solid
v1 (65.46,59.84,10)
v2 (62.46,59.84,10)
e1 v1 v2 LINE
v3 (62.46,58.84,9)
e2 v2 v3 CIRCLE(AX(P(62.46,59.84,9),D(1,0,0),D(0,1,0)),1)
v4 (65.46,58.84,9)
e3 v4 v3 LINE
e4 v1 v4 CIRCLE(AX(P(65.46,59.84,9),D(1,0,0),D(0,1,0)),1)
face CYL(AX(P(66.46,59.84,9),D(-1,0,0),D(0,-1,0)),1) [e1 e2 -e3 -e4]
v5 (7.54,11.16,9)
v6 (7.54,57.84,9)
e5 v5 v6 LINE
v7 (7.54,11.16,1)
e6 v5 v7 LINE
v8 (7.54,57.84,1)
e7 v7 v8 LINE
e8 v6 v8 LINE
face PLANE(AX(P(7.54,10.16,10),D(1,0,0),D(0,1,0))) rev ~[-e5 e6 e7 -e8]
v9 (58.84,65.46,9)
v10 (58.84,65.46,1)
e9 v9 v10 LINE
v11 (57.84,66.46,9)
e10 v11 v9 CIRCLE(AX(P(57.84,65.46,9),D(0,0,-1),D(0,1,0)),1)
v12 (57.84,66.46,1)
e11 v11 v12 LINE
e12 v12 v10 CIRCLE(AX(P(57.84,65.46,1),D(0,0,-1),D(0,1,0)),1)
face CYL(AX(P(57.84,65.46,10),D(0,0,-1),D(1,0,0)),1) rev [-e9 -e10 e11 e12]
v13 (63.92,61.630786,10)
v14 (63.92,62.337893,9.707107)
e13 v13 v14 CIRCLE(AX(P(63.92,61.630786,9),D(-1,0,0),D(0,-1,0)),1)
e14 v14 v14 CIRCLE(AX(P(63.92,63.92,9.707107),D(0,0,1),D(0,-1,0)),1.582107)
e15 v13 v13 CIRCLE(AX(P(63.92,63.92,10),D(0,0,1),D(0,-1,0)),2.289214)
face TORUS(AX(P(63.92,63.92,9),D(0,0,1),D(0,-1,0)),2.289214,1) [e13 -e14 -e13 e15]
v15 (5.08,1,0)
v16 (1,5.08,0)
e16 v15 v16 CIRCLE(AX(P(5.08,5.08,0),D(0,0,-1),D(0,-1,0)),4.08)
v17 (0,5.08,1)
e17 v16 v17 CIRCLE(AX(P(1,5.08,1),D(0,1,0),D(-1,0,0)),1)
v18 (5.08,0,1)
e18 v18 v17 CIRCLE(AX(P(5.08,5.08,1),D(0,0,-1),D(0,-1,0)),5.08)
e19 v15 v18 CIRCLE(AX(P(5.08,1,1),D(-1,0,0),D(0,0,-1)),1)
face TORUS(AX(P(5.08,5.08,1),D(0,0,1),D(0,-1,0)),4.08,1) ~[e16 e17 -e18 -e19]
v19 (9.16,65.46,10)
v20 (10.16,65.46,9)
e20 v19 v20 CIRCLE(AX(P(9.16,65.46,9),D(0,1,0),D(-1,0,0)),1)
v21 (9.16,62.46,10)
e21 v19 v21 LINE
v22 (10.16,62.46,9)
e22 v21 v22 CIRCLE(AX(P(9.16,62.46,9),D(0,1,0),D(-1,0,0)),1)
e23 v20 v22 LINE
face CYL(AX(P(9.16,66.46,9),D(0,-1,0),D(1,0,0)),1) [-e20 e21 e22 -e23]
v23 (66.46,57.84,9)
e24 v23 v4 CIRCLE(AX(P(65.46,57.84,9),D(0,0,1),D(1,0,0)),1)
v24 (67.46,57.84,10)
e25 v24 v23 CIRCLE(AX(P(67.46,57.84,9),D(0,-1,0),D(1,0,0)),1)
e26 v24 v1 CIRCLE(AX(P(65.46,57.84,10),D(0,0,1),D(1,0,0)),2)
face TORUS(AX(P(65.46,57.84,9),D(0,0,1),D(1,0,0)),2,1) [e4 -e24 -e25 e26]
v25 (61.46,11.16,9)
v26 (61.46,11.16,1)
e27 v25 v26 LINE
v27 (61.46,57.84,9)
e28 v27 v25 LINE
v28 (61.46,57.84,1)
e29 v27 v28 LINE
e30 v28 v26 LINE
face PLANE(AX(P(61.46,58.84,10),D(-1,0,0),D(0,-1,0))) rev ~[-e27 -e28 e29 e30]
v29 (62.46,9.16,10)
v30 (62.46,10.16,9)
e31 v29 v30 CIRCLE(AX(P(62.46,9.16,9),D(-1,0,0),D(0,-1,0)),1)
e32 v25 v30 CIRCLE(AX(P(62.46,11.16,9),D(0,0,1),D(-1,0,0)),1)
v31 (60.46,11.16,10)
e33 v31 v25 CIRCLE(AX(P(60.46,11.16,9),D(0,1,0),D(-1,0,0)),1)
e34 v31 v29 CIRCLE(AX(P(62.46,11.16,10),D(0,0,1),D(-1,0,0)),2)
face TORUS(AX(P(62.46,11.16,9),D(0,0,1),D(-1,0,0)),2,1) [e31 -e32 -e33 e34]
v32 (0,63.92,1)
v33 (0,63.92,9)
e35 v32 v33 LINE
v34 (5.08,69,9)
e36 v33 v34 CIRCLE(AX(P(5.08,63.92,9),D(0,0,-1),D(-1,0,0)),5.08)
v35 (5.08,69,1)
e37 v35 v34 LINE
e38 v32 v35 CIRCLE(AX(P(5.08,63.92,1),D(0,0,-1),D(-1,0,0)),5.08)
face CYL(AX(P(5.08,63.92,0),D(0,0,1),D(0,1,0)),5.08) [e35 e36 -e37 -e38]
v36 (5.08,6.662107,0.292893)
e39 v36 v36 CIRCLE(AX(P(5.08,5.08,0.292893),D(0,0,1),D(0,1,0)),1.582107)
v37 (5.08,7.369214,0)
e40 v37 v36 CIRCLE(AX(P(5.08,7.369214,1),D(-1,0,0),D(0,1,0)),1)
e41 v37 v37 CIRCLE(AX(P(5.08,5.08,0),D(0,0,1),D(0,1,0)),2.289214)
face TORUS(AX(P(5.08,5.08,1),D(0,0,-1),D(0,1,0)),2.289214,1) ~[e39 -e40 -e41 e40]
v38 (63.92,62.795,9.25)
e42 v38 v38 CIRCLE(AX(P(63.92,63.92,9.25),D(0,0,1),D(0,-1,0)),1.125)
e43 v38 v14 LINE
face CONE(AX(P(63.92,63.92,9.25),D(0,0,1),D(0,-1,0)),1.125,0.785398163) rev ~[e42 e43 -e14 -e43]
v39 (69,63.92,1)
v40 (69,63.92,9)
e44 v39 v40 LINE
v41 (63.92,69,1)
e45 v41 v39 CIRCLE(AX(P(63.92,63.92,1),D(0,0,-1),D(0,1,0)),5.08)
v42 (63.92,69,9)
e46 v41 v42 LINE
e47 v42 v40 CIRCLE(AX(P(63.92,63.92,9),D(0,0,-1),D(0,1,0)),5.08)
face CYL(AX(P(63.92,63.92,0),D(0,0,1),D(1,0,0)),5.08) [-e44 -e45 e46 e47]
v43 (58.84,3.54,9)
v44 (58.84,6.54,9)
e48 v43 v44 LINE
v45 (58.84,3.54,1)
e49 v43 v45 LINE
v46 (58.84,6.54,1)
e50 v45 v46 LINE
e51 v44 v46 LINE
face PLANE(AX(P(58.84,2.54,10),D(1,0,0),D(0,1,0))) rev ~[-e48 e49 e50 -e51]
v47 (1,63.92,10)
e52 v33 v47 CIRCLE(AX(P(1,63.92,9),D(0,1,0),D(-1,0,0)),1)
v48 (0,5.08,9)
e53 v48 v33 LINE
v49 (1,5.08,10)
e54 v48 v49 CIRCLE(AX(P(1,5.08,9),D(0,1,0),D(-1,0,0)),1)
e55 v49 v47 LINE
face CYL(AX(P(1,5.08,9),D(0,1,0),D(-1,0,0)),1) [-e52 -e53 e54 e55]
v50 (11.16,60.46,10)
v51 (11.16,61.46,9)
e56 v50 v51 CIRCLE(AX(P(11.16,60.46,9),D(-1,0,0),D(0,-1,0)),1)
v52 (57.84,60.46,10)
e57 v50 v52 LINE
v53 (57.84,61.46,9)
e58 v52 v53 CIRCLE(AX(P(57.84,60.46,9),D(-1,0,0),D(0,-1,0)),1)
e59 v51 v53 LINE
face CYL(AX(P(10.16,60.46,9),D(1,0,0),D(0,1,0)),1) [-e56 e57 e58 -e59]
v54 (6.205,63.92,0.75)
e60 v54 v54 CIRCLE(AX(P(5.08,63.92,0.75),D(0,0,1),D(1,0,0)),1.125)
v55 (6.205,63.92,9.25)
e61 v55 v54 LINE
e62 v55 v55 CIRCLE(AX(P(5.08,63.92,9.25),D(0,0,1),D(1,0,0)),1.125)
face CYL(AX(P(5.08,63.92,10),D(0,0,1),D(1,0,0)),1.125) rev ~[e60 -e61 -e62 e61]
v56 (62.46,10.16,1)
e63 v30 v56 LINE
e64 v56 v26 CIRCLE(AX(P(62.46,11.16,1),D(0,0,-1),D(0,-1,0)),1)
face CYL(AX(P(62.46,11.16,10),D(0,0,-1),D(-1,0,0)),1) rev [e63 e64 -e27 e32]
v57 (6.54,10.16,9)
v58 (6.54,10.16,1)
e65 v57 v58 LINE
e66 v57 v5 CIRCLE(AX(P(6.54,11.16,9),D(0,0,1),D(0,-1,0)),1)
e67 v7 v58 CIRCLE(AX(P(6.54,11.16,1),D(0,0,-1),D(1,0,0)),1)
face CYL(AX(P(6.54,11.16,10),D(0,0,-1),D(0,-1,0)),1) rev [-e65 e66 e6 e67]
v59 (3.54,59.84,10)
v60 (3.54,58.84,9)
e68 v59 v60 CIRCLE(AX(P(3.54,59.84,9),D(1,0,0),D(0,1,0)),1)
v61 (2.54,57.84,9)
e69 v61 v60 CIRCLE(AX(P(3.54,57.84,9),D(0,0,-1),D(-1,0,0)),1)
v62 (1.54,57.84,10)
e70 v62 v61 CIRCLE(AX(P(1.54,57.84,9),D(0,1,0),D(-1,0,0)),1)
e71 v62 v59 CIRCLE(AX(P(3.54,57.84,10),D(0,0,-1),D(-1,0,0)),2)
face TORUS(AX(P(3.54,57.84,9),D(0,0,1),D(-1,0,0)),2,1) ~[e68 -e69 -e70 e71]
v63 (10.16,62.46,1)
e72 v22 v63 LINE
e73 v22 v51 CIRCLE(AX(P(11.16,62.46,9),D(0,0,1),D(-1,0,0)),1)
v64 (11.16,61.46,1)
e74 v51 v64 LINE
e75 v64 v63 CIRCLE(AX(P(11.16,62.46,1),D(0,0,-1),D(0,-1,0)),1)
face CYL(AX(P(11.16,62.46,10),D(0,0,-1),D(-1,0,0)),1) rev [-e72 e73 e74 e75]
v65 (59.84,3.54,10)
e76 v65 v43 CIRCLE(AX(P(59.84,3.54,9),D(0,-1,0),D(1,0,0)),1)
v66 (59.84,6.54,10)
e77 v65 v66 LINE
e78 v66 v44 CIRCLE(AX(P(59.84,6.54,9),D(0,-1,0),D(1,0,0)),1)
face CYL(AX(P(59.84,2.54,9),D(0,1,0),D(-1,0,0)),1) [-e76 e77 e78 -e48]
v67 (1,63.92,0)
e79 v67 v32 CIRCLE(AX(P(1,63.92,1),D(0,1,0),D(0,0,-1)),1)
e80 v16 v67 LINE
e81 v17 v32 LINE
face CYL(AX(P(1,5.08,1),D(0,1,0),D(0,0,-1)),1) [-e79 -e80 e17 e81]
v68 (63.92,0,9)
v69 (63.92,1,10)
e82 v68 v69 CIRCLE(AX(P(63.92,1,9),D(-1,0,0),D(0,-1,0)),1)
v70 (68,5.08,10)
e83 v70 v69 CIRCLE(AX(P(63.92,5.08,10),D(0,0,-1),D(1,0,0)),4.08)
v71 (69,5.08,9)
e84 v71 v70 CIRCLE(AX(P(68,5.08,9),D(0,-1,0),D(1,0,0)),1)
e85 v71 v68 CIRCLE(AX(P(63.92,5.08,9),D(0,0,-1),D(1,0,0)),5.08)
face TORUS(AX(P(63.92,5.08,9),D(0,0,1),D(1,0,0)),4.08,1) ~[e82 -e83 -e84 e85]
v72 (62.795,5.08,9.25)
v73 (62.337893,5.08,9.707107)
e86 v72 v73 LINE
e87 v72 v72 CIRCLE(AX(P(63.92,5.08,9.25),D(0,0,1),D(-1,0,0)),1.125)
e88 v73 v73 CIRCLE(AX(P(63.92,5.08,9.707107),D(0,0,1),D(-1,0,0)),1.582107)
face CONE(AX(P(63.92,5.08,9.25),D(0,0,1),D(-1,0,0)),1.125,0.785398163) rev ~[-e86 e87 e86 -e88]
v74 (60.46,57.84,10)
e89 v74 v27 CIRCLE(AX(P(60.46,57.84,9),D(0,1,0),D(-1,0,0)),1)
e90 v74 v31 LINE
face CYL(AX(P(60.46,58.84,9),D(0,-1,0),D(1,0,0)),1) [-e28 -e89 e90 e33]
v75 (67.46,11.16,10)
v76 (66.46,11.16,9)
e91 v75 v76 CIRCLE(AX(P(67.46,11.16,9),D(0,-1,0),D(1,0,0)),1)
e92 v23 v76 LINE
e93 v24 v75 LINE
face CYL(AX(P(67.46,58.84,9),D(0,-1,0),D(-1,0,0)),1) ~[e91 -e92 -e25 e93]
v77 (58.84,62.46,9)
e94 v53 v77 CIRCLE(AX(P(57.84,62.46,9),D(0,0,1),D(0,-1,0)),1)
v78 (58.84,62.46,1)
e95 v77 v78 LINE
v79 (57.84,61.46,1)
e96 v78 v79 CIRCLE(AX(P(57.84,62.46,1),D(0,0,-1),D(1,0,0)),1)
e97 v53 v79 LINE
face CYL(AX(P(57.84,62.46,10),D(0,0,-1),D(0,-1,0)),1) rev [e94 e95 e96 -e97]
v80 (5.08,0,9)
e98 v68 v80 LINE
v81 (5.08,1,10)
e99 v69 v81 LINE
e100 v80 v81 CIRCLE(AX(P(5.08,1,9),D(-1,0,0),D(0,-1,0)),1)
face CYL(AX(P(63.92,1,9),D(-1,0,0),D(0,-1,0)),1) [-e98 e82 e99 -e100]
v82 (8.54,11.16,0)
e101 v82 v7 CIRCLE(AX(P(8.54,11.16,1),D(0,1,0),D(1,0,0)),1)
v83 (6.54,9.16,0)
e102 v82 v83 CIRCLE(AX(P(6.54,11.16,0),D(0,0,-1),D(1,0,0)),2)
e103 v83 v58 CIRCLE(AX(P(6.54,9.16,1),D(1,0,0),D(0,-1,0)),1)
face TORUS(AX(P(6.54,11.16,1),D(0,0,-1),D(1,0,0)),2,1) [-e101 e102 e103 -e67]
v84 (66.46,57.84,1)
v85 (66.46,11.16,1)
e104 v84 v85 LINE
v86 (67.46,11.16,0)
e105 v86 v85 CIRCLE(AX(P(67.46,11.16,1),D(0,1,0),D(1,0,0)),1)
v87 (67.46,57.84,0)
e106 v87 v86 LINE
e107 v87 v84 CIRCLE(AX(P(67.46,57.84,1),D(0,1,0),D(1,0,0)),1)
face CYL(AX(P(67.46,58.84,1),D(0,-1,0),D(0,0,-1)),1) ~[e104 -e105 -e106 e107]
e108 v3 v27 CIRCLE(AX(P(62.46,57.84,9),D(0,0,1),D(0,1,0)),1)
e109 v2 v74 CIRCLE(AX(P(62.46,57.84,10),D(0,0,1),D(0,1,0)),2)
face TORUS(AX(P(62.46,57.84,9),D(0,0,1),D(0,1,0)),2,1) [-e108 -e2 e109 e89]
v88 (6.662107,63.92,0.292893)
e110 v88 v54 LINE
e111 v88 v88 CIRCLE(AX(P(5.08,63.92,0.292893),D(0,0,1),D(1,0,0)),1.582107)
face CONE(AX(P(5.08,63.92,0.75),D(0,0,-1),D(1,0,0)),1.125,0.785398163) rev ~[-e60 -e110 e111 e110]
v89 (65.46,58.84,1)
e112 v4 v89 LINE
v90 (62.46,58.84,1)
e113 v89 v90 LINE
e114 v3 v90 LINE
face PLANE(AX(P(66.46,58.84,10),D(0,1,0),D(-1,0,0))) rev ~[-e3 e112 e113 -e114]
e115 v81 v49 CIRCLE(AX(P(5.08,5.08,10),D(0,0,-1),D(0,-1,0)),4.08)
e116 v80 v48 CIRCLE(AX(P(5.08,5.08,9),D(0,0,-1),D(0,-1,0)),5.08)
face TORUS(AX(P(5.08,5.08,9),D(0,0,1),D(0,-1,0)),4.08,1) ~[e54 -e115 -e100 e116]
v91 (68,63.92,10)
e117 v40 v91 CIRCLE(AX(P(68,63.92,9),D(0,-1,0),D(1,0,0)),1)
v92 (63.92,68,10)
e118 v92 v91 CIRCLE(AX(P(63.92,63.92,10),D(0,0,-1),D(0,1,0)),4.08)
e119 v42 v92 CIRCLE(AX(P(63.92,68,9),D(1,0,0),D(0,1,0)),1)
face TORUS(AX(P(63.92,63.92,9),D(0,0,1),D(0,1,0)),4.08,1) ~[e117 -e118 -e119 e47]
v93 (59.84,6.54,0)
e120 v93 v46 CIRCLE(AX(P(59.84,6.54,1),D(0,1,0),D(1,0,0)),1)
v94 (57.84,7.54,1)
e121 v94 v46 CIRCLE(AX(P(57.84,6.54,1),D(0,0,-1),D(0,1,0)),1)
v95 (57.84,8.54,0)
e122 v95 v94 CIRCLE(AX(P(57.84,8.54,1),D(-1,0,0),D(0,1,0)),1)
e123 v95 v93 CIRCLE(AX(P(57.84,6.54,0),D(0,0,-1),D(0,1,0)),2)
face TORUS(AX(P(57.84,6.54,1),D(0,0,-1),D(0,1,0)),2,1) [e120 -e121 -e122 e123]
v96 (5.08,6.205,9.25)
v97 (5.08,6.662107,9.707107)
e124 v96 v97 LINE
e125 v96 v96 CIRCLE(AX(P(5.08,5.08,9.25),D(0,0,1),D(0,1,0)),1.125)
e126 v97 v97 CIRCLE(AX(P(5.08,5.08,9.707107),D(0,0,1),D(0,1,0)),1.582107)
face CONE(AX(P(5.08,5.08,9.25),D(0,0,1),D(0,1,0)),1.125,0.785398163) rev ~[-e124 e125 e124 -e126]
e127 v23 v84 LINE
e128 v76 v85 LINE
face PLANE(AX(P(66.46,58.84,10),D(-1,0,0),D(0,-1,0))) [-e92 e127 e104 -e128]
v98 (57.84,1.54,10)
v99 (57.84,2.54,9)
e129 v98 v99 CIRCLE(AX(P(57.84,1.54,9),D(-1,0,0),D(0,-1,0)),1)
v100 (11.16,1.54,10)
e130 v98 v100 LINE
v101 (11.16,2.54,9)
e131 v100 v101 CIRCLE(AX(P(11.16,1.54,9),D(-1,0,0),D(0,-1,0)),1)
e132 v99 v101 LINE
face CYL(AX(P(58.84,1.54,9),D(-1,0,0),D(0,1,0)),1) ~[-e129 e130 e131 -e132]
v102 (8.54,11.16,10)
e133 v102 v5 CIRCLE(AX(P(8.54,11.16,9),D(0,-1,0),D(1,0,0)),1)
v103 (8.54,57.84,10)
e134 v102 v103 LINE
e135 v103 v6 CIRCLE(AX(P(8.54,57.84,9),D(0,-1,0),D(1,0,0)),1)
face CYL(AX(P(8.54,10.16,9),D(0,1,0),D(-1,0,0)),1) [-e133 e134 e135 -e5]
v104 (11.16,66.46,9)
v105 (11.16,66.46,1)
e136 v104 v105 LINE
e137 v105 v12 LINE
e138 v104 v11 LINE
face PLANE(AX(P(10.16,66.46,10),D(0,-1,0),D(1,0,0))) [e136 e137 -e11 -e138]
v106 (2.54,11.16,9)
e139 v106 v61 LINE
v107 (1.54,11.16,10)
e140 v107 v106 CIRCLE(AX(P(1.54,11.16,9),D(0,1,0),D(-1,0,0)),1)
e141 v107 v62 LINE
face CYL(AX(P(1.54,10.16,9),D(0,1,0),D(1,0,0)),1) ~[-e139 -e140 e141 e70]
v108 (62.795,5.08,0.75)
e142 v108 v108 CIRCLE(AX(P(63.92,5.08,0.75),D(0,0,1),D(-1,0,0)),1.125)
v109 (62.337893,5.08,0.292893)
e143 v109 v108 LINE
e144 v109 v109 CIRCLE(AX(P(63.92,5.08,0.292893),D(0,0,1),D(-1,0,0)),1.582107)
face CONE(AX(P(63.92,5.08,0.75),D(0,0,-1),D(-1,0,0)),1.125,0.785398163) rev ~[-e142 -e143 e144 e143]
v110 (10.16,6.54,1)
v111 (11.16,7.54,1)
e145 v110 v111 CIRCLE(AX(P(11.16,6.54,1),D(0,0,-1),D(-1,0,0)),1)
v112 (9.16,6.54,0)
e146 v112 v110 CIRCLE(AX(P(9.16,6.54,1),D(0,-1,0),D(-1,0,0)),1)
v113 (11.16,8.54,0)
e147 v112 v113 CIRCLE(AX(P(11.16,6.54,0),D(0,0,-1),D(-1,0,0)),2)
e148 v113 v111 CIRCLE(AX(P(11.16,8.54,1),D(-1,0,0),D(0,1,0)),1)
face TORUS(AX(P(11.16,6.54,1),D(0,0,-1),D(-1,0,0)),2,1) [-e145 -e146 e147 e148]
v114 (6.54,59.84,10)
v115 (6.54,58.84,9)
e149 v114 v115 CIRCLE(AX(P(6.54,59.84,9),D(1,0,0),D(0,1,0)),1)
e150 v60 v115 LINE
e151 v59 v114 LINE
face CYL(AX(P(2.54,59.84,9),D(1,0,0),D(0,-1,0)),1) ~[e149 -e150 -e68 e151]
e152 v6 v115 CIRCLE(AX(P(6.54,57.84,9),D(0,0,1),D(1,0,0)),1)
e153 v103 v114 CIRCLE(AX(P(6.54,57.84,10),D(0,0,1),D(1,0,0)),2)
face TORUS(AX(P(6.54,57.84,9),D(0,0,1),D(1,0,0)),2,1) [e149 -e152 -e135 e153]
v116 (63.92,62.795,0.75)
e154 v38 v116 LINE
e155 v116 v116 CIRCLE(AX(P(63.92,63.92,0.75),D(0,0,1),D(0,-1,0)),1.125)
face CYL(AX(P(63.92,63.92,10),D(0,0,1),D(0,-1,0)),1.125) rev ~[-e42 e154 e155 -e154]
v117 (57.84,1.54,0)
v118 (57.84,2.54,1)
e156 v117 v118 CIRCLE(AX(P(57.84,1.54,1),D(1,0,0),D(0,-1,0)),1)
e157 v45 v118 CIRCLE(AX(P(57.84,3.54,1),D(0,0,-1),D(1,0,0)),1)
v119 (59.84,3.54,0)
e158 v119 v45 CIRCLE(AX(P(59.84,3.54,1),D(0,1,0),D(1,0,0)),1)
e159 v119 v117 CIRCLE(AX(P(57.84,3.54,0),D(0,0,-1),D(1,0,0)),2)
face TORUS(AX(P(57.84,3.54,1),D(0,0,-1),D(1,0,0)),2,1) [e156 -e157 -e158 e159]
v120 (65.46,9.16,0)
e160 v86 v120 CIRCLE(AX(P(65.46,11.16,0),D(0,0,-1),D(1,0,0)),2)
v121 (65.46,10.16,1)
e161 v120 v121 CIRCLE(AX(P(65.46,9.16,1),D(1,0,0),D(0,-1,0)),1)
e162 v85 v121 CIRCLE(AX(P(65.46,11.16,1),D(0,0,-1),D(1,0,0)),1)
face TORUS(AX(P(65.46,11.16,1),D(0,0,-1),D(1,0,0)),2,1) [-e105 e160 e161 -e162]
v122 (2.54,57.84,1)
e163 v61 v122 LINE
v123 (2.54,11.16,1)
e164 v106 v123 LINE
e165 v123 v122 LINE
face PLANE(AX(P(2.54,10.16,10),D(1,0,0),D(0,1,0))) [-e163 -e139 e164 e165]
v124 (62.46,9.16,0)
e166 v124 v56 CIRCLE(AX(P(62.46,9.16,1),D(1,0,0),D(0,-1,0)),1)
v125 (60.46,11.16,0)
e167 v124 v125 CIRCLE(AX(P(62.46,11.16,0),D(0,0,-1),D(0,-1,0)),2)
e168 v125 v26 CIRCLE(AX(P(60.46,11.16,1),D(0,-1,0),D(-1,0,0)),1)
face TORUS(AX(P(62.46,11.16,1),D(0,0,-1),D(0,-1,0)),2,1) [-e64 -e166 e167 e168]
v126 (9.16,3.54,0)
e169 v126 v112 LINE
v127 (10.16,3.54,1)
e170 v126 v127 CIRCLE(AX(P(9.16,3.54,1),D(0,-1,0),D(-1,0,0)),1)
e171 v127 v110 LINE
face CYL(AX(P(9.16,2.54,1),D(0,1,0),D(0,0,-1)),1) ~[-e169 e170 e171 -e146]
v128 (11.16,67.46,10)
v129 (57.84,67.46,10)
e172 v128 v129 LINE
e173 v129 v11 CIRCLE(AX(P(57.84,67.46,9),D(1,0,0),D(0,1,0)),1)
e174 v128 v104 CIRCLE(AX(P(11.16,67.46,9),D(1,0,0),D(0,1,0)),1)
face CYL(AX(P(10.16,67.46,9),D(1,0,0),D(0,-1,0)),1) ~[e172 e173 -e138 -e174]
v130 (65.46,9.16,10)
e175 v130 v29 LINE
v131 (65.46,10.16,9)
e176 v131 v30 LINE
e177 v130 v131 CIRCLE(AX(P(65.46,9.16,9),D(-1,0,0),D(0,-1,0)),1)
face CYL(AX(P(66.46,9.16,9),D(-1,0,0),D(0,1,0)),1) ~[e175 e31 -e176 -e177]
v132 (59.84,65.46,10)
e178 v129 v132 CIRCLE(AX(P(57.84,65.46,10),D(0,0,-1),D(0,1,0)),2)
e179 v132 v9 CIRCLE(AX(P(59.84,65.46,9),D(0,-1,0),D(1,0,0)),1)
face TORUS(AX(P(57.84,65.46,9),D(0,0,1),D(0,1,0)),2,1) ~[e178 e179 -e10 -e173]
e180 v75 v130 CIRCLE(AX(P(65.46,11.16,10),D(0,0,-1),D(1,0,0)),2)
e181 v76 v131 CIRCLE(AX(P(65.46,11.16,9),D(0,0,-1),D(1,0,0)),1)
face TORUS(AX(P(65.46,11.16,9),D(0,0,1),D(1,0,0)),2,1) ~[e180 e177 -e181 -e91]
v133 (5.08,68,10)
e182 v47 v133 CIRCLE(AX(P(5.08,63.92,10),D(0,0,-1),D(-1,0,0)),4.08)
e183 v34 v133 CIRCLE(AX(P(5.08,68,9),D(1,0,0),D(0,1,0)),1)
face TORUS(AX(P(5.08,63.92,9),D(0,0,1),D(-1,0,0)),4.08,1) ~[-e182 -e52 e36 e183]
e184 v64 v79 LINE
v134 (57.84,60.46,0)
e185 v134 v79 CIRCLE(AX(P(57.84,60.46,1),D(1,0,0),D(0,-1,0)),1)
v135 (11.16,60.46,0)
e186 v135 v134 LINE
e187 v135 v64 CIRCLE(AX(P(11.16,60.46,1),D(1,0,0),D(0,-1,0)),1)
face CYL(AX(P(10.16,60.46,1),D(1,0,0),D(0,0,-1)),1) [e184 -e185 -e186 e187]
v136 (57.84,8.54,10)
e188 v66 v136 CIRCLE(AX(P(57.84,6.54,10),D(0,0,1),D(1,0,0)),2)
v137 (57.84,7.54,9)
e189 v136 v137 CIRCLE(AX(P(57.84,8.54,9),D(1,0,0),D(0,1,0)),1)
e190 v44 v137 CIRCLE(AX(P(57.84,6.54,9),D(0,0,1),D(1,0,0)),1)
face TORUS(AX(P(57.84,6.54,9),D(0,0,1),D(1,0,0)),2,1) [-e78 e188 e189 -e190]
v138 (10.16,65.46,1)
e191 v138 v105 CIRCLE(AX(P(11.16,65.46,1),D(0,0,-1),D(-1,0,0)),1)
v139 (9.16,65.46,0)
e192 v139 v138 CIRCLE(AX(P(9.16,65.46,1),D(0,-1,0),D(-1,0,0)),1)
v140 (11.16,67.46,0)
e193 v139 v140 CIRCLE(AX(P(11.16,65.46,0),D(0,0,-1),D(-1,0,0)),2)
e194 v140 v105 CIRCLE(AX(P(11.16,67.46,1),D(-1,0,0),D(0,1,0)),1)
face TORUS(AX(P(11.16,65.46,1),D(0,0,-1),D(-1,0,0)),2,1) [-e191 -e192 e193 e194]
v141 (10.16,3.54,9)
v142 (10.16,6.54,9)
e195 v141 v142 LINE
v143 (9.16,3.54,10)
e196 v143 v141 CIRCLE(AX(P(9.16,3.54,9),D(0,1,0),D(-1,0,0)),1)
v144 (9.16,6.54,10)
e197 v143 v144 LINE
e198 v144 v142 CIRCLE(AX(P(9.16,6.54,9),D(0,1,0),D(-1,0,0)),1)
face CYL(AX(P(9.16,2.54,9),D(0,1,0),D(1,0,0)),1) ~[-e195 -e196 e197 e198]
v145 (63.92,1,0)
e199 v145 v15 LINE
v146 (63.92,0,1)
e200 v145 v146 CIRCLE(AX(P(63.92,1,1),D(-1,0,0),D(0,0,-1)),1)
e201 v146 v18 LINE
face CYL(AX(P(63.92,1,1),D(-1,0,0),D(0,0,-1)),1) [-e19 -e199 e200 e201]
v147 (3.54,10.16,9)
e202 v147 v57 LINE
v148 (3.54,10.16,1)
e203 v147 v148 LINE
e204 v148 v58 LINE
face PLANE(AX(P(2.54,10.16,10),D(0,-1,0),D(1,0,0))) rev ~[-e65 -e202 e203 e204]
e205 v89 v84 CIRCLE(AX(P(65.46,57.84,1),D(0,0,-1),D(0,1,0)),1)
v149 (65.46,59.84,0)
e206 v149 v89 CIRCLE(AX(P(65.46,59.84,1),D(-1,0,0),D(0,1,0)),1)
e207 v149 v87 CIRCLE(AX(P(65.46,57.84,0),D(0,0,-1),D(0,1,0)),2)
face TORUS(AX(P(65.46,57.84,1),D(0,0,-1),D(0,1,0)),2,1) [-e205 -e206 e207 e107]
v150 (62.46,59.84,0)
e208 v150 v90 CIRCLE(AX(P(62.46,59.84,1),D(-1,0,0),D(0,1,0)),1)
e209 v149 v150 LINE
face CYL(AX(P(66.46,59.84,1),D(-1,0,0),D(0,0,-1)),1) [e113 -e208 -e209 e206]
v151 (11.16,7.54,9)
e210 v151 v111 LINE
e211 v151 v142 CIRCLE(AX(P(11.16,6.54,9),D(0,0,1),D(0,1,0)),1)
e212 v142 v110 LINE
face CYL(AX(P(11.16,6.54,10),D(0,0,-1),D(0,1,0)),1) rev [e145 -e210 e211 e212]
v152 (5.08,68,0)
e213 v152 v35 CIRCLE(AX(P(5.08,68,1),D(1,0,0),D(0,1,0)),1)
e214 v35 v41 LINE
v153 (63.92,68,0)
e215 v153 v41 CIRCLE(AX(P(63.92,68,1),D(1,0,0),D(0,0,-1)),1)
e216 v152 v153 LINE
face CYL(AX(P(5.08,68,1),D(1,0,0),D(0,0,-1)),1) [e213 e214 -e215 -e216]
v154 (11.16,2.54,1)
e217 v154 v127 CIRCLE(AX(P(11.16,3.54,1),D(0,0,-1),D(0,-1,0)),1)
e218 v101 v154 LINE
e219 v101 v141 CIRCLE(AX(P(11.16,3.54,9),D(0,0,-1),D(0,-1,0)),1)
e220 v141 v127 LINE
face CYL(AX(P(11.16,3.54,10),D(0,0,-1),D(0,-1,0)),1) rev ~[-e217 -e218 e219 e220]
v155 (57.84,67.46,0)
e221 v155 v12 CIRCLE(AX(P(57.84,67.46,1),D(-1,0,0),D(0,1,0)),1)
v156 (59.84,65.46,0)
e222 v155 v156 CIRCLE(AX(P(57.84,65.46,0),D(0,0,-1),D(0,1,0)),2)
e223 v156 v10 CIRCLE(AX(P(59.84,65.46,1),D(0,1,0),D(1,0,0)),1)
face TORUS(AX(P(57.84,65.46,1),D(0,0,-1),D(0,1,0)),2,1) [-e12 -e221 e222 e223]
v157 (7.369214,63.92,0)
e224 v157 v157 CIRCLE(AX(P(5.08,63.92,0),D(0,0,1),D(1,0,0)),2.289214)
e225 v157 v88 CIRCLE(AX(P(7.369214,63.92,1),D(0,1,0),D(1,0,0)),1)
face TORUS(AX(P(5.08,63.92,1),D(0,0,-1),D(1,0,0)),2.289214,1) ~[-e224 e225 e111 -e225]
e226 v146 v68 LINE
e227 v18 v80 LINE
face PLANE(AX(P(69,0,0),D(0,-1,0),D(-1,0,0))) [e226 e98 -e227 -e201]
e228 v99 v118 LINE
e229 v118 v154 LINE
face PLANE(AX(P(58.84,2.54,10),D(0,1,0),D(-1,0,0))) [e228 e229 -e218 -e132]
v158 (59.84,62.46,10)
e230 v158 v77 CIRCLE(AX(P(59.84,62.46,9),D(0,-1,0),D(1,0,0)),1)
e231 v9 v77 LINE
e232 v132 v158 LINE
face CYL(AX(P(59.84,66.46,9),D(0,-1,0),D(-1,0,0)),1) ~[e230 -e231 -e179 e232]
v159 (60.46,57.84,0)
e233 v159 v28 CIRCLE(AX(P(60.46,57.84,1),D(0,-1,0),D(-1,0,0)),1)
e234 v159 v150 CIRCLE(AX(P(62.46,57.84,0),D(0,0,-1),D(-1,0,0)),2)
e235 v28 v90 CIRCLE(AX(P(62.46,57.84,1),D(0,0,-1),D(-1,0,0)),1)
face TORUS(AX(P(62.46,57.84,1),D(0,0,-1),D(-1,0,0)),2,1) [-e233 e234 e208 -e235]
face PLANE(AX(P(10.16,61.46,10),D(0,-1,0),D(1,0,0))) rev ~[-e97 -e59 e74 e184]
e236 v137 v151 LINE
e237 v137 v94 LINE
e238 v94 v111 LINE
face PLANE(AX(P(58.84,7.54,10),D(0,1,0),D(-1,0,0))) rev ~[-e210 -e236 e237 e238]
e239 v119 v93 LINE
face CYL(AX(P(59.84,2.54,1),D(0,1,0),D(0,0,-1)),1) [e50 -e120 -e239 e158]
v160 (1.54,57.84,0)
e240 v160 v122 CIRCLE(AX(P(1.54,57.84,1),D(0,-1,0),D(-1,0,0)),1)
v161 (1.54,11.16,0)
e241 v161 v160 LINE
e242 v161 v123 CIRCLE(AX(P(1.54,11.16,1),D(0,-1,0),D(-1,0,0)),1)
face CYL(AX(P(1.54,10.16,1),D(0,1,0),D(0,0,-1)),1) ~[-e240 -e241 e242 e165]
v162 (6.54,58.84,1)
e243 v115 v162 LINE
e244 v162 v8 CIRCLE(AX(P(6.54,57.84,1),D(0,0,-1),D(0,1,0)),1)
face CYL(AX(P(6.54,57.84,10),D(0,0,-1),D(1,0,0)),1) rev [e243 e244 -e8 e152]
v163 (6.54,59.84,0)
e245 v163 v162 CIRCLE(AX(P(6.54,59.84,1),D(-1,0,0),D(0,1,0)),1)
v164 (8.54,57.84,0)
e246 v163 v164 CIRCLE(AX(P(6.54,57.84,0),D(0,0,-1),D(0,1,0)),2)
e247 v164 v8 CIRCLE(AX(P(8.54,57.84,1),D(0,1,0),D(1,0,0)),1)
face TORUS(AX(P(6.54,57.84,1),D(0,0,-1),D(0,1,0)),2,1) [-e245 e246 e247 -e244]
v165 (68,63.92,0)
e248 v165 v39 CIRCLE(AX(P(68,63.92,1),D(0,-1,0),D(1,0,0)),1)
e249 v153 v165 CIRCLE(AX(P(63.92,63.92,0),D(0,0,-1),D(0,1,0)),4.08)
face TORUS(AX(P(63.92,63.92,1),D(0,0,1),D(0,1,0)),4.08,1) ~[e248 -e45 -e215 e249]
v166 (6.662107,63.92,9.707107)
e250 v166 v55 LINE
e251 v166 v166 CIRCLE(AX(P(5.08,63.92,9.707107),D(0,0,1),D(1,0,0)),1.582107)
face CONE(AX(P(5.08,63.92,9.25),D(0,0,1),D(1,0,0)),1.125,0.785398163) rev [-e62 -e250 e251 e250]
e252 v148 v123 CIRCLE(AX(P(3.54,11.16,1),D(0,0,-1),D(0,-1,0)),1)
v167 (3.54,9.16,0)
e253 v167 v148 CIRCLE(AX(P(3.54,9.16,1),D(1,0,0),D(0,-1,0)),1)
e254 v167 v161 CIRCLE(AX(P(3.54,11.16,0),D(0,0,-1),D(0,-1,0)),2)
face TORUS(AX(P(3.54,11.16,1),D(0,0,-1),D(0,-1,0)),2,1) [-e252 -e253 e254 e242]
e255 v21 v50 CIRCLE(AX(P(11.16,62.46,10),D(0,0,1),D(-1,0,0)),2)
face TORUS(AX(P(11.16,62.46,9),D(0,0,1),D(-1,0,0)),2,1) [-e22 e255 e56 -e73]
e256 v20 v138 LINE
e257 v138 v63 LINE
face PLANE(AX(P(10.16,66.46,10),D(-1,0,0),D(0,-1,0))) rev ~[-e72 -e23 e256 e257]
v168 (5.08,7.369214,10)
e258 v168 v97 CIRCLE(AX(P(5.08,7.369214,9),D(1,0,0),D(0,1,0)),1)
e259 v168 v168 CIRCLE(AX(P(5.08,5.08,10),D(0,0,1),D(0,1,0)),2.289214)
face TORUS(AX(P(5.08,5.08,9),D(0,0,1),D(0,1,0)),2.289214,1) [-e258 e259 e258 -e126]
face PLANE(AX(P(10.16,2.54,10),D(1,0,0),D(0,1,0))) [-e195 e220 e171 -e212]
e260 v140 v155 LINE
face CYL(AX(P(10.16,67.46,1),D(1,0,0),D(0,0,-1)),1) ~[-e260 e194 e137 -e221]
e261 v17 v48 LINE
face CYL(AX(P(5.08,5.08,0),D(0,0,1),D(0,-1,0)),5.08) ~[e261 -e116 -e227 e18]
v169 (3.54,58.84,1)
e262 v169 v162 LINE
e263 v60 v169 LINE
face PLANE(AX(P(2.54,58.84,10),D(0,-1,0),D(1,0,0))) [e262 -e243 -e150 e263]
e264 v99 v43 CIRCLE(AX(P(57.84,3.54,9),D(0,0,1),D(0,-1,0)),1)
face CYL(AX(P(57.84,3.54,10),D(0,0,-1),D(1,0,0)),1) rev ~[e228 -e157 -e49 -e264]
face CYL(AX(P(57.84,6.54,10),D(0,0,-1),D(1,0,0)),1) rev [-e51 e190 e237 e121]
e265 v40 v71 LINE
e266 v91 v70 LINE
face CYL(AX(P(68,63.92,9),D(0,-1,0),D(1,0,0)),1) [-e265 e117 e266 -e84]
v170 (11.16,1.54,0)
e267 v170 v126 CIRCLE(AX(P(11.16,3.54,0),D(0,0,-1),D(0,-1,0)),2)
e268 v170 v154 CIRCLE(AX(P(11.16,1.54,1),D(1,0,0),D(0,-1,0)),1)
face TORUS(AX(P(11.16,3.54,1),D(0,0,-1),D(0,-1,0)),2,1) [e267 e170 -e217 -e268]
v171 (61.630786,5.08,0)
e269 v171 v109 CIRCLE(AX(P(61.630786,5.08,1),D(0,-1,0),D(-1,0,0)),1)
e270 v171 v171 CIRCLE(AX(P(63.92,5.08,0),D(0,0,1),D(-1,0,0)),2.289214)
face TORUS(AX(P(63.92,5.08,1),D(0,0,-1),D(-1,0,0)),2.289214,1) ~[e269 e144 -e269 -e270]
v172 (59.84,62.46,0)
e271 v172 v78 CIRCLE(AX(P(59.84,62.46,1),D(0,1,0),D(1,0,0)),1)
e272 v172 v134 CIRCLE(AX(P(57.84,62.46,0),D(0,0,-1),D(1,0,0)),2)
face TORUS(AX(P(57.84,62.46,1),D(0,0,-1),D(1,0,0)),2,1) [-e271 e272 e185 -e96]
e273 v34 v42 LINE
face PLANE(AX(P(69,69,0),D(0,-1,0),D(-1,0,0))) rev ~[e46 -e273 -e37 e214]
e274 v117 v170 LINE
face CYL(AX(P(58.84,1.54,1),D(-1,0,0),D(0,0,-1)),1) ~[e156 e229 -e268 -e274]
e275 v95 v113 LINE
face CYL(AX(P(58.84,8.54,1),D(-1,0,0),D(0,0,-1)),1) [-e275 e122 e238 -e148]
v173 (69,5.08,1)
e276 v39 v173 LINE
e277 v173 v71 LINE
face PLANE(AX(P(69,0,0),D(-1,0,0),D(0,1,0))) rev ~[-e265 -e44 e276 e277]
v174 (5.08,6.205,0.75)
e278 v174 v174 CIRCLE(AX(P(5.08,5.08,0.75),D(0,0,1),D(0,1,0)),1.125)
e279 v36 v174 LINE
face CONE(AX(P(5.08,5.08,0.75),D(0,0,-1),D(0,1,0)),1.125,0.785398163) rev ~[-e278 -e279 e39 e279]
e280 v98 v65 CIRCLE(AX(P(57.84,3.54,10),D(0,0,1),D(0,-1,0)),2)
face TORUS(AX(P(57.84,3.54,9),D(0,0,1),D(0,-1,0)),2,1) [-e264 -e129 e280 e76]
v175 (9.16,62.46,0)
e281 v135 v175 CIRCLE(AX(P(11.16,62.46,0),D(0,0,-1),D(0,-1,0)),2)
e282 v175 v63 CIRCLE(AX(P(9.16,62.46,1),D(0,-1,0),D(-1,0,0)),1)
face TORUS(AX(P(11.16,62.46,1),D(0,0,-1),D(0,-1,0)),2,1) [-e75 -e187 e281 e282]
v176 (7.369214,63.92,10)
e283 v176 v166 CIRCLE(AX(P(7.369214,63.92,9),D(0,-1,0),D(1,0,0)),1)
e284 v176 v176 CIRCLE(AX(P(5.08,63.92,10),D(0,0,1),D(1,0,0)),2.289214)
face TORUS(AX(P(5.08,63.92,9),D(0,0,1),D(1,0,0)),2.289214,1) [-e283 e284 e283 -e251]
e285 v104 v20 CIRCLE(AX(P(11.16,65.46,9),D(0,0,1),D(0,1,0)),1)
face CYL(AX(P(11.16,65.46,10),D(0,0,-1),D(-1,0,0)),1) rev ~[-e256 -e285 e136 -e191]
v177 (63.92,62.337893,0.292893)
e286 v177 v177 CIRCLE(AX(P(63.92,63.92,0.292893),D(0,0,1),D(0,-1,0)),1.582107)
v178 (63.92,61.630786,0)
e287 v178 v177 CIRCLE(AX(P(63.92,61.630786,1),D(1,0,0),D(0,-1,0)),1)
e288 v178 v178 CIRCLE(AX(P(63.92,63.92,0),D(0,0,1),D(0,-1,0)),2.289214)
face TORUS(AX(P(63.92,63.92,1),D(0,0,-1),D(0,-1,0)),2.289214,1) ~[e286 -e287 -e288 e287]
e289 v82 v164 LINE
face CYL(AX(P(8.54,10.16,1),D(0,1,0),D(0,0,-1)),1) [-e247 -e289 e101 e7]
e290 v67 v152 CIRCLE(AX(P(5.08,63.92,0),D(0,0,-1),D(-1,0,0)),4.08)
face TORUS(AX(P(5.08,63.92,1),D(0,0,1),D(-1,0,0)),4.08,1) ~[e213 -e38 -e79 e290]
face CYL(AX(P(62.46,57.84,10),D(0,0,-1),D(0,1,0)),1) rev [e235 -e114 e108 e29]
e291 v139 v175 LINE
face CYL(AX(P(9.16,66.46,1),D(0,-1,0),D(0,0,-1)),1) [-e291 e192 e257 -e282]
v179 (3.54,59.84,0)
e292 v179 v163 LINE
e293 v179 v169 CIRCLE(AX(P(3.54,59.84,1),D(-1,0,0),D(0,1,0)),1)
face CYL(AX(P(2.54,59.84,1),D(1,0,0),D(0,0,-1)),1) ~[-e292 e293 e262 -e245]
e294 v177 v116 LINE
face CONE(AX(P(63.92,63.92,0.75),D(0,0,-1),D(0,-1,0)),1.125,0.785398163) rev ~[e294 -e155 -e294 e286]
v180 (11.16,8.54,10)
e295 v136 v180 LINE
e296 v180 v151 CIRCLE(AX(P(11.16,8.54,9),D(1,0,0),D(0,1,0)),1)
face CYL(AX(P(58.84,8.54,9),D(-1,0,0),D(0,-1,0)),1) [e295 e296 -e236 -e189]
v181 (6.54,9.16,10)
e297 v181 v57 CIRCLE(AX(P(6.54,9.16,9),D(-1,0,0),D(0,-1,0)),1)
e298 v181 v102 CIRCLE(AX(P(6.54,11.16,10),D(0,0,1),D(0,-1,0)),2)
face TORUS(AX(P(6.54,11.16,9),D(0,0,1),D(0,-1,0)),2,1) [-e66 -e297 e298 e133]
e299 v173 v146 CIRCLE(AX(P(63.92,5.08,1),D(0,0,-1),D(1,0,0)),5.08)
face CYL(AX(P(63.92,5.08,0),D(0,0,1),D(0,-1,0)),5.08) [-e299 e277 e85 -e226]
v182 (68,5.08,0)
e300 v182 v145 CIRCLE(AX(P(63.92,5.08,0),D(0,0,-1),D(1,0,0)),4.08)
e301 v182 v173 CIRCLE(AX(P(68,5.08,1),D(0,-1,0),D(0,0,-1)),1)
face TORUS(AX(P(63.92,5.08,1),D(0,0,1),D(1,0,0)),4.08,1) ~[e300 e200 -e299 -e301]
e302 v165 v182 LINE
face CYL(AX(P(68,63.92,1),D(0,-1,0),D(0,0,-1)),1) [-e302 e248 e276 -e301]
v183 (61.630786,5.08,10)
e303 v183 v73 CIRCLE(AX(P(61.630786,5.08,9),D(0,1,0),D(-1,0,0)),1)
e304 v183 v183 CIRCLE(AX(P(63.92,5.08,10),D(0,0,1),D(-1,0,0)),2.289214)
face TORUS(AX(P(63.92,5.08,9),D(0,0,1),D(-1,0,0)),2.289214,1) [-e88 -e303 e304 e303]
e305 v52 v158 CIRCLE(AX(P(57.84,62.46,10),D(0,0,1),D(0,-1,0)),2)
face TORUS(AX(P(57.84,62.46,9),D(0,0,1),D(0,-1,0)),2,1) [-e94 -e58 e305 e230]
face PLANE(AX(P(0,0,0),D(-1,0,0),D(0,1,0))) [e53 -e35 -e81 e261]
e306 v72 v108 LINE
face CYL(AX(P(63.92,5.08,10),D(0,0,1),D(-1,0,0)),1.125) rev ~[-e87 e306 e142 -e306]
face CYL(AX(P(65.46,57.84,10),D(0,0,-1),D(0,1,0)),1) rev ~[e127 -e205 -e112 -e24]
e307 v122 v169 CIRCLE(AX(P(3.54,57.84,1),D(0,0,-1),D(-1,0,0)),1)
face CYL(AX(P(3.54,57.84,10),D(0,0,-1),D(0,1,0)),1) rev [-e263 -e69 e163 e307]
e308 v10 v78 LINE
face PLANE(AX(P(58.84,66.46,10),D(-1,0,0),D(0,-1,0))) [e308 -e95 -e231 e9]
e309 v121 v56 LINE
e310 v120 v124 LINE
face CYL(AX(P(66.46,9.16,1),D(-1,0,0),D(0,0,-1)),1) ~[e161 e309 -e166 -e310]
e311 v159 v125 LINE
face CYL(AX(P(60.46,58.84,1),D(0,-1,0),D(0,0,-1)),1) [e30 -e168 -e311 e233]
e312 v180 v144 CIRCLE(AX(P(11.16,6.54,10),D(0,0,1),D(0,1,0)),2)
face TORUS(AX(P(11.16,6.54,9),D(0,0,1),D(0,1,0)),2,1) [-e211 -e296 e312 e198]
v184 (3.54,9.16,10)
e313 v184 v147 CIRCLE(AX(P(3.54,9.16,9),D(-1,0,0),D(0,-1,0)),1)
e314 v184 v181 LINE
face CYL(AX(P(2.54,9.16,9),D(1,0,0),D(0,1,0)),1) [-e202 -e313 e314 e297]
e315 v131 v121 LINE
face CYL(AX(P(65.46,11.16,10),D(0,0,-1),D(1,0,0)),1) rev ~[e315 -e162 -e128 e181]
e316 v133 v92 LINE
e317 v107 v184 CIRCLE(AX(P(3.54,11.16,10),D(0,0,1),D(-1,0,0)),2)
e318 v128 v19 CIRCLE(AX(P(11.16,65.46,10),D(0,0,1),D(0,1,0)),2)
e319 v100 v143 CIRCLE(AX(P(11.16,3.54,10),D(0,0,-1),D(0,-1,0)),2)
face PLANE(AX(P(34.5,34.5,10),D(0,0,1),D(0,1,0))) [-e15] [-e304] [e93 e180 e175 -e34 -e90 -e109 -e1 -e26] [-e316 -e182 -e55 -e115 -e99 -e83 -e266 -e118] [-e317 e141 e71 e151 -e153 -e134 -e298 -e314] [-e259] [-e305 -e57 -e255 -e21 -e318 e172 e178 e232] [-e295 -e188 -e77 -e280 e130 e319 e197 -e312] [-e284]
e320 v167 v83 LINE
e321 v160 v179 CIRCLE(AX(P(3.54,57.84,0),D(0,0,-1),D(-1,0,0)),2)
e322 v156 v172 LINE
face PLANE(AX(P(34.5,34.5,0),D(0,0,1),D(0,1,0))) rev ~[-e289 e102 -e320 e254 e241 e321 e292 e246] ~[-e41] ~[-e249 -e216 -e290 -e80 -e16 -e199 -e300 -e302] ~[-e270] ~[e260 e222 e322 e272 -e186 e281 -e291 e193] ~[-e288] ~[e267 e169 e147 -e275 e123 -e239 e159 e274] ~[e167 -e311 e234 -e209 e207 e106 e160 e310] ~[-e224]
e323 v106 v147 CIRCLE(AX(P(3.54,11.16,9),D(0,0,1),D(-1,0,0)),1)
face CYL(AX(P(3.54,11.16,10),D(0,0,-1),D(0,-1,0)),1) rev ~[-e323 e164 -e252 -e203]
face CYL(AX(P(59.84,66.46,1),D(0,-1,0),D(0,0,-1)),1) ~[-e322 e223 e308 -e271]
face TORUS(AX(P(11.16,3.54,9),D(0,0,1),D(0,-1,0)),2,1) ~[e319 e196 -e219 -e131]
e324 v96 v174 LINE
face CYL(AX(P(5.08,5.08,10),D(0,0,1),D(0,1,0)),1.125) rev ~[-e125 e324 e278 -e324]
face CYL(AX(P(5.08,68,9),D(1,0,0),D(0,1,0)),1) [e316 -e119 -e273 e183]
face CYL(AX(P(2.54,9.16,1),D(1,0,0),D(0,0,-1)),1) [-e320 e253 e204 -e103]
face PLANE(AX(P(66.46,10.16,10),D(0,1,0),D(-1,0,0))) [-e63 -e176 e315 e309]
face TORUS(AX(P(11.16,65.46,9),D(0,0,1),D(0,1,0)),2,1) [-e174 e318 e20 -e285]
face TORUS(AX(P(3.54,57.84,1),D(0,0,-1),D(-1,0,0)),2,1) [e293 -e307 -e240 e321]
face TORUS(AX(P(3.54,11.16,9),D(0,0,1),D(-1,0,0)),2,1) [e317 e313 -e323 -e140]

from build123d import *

# Parameters (mm, degrees)
SKETCH1_W                    = 69
SKETCH1_H                    = 69
BOSS_EXTRUDE1_DEPTH          = 10
FILLET1_R                    = 5.08
SKETCH3_R                    = 1.125
SKETCH3_W                    = 5
SKETCH3_H                    = 48.68
CUT_EXTRUDE1_DEPTH           = 10
CHAMFER1_SIZE                = 0.75
FILLET2_R                    = 1
CIRPATTERN1_COUNT            = 4
CHAMFER1_OF_CIRPATTERN1_SIZE = 0.75
FILLET2_OF_CIRPATTERN1_R     = 1


with BuildPart() as part:
    # Sketch1 → Boss-Extrude1 (new body)
    with BuildSketch(Plane(origin=(0, 0, 0), x_dir=(0, 1, 0), z_dir=(0, 0, 1))):
        with Locations((34.5, -34.5)):
            Rectangle(SKETCH1_W, SKETCH1_H)
    extrude(amount=BOSS_EXTRUDE1_DEPTH)

    # Fillet1
    fillet1_edges = [part.edges().sort_by_distance(p)[0] for p in [
        (0, 0, 5),
        (0, 69, 5),
        (69, 69, 5),
        (69, 0, 5),
    ]]
    fillet(fillet1_edges, radius=FILLET1_R)

    # Sketch3 → Cut-Extrude1 (cut)
    with BuildSketch(Plane.XY.offset(10)):
        with Locations((5.08, 63.92)):
            Circle(SKETCH3_R)
        with Locations((5.04, 34.5)):
            Rectangle(SKETCH3_W, SKETCH3_H)
    cut_extrude1 = extrude(amount=-CUT_EXTRUDE1_DEPTH, mode=Mode.SUBTRACT)

    # Chamfer1
    chamfer1_edges = [part.edges().sort_by_distance(p)[0] for p in [
        (3.955, 63.92, 0),
        (3.955, 63.92, 10),
    ]]
    chamfer(chamfer1_edges, length=CHAMFER1_SIZE)

    # Fillet2
    fillet2_edges = [part.edges().sort_by_distance(p)[0] for p in [
        (34.5, 0, 0),
        (34.5, 0, 10),
        (0, 34.5, 0),
        (34.5, 69, 0),
        (69, 34.5, 0),
        (67.512102448, 1.487897552, 0),
        (67.512102448, 67.512102448, 0),
        (1.487897552, 67.512102448, 0),
        (1.487897552, 1.487897552, 0),
        (0, 34.5, 10),
        (69, 34.5, 10),
        (34.5, 69, 10),
        (67.512102448, 1.487897552, 10),
        (67.512102448, 67.512102448, 10),
        (1.487897552, 67.512102448, 10),
        (1.487897552, 1.487897552, 10),
        (2.54, 34.5, 0),
        (2.54, 10.16, 5),
        (5.04, 58.84, 0),
        (2.54, 58.84, 5),
        (7.54, 34.5, 0),
        (7.54, 58.84, 5),
        (5.04, 10.16, 0),
        (7.54, 10.16, 5),
        (2.54, 34.5, 10),
        (5.04, 10.16, 10),
        (7.54, 34.5, 10),
        (5.04, 58.84, 10),
        (3.205, 63.92, 0),
        (3.205, 63.92, 10),
    ]]
    fillet(fillet2_edges, radius=FILLET2_R)

    # CirPattern1: Cut-Extrude1 ×4 about axis
    cirpattern1_axis = Axis((34.5, 34.5, 10), (0, 0, 1))
    for i in range(1, CIRPATTERN1_COUNT):
        add(cut_extrude1.rotate(cirpattern1_axis, i * 360 / CIRPATTERN1_COUNT), mode=Mode.SUBTRACT)

    # Chamfer1 of CirPattern1
    chamfer1_of_cirpattern1_edges = [part.edges().sort_by_distance(p)[0] for p in [
        (5.08, 3.955, 0),
        (5.08, 3.955, 10),
        (65.045, 5.08, 0),
        (65.045, 5.08, 10),
        (63.92, 65.045, 0),
        (63.92, 65.045, 10),
    ]]
    chamfer(chamfer1_of_cirpattern1_edges, length=CHAMFER1_OF_CIRPATTERN1_SIZE)

    # Fillet2 of CirPattern1
    fillet2_of_cirpattern1_edges = [part.edges().sort_by_distance(p)[0] for p in [
        (69, 34.5, 0),
        (69, 34.5, 10),
        (34.5, 0, 0),
        (0, 34.5, 0),
        (34.5, 69, 0),
        (67.512102448, 67.512102448, 0),
        (1.487897552, 67.512102448, 0),
        (1.487897552, 1.487897552, 0),
        (67.512102448, 1.487897552, 0),
        (34.5, 0, 10),
        (34.5, 69, 10),
        (0, 34.5, 10),
        (67.512102448, 67.512102448, 10),
        (1.487897552, 67.512102448, 10),
        (1.487897552, 1.487897552, 10),
        (67.512102448, 1.487897552, 10),
        (34.5, 2.54, 0),
        (58.84, 2.54, 5),
        (10.16, 5.04, 0),
        (10.16, 2.54, 5),
        (34.5, 7.54, 0),
        (10.16, 7.54, 5),
        (58.84, 5.04, 0),
        (58.84, 7.54, 5),
        (34.5, 2.54, 10),
        (58.84, 5.04, 10),
        (34.5, 7.54, 10),
        (10.16, 5.04, 10),
        (5.08, 3.205, 0),
        (5.08, 3.205, 10),
        (34.5, 69, 0),
        (34.5, 69, 10),
        (69, 34.5, 0),
        (34.5, 0, 0),
        (0, 34.5, 0),
        (1.487897552, 67.512102448, 0),
        (1.487897552, 1.487897552, 0),
        (67.512102448, 1.487897552, 0),
        (67.512102448, 67.512102448, 0),
        (69, 34.5, 10),
        (0, 34.5, 10),
        (34.5, 0, 10),
        (1.487897552, 67.512102448, 10),
        (1.487897552, 1.487897552, 10),
        (67.512102448, 1.487897552, 10),
        (67.512102448, 67.512102448, 10),
        (66.46, 34.5, 0),
        (66.46, 58.84, 5),
        (63.96, 10.16, 0),
        (66.46, 10.16, 5),
        (61.46, 34.5, 0),
        (61.46, 10.16, 5),
        (63.96, 58.84, 0),
        (61.46, 58.84, 5),
        (66.46, 34.5, 10),
        (63.96, 58.84, 10),
        (61.46, 34.5, 10),
        (63.96, 10.16, 10),
        (65.795, 5.08, 0),
        (65.795, 5.08, 10),
        (0, 34.5, 0),
        (0, 34.5, 10),
        (34.5, 69, 0),
        (69, 34.5, 0),
        (34.5, 0, 0),
        (1.487897552, 1.487897552, 0),
        (67.512102448, 1.487897552, 0),
        (67.512102448, 67.512102448, 0),
        (1.487897552, 67.512102448, 0),
        (34.5, 69, 10),
        (34.5, 0, 10),
        (69, 34.5, 10),
        (1.487897552, 1.487897552, 10),
        (67.512102448, 1.487897552, 10),
        (67.512102448, 67.512102448, 10),
        (1.487897552, 67.512102448, 10),
        (34.5, 66.46, 0),
        (10.16, 66.46, 5),
        (58.84, 63.96, 0),
        (58.84, 66.46, 5),
        (34.5, 61.46, 0),
        (58.84, 61.46, 5),
        (10.16, 63.96, 0),
        (10.16, 61.46, 5),
        (34.5, 66.46, 10),
        (10.16, 63.96, 10),
        (34.5, 61.46, 10),
        (58.84, 63.96, 10),
        (63.92, 65.795, 0),
        (63.92, 65.795, 10),
    ]]
    fillet(fillet2_of_cirpattern1_edges, radius=FILLET2_OF_CIRPATTERN1_R)


solid = part.part
